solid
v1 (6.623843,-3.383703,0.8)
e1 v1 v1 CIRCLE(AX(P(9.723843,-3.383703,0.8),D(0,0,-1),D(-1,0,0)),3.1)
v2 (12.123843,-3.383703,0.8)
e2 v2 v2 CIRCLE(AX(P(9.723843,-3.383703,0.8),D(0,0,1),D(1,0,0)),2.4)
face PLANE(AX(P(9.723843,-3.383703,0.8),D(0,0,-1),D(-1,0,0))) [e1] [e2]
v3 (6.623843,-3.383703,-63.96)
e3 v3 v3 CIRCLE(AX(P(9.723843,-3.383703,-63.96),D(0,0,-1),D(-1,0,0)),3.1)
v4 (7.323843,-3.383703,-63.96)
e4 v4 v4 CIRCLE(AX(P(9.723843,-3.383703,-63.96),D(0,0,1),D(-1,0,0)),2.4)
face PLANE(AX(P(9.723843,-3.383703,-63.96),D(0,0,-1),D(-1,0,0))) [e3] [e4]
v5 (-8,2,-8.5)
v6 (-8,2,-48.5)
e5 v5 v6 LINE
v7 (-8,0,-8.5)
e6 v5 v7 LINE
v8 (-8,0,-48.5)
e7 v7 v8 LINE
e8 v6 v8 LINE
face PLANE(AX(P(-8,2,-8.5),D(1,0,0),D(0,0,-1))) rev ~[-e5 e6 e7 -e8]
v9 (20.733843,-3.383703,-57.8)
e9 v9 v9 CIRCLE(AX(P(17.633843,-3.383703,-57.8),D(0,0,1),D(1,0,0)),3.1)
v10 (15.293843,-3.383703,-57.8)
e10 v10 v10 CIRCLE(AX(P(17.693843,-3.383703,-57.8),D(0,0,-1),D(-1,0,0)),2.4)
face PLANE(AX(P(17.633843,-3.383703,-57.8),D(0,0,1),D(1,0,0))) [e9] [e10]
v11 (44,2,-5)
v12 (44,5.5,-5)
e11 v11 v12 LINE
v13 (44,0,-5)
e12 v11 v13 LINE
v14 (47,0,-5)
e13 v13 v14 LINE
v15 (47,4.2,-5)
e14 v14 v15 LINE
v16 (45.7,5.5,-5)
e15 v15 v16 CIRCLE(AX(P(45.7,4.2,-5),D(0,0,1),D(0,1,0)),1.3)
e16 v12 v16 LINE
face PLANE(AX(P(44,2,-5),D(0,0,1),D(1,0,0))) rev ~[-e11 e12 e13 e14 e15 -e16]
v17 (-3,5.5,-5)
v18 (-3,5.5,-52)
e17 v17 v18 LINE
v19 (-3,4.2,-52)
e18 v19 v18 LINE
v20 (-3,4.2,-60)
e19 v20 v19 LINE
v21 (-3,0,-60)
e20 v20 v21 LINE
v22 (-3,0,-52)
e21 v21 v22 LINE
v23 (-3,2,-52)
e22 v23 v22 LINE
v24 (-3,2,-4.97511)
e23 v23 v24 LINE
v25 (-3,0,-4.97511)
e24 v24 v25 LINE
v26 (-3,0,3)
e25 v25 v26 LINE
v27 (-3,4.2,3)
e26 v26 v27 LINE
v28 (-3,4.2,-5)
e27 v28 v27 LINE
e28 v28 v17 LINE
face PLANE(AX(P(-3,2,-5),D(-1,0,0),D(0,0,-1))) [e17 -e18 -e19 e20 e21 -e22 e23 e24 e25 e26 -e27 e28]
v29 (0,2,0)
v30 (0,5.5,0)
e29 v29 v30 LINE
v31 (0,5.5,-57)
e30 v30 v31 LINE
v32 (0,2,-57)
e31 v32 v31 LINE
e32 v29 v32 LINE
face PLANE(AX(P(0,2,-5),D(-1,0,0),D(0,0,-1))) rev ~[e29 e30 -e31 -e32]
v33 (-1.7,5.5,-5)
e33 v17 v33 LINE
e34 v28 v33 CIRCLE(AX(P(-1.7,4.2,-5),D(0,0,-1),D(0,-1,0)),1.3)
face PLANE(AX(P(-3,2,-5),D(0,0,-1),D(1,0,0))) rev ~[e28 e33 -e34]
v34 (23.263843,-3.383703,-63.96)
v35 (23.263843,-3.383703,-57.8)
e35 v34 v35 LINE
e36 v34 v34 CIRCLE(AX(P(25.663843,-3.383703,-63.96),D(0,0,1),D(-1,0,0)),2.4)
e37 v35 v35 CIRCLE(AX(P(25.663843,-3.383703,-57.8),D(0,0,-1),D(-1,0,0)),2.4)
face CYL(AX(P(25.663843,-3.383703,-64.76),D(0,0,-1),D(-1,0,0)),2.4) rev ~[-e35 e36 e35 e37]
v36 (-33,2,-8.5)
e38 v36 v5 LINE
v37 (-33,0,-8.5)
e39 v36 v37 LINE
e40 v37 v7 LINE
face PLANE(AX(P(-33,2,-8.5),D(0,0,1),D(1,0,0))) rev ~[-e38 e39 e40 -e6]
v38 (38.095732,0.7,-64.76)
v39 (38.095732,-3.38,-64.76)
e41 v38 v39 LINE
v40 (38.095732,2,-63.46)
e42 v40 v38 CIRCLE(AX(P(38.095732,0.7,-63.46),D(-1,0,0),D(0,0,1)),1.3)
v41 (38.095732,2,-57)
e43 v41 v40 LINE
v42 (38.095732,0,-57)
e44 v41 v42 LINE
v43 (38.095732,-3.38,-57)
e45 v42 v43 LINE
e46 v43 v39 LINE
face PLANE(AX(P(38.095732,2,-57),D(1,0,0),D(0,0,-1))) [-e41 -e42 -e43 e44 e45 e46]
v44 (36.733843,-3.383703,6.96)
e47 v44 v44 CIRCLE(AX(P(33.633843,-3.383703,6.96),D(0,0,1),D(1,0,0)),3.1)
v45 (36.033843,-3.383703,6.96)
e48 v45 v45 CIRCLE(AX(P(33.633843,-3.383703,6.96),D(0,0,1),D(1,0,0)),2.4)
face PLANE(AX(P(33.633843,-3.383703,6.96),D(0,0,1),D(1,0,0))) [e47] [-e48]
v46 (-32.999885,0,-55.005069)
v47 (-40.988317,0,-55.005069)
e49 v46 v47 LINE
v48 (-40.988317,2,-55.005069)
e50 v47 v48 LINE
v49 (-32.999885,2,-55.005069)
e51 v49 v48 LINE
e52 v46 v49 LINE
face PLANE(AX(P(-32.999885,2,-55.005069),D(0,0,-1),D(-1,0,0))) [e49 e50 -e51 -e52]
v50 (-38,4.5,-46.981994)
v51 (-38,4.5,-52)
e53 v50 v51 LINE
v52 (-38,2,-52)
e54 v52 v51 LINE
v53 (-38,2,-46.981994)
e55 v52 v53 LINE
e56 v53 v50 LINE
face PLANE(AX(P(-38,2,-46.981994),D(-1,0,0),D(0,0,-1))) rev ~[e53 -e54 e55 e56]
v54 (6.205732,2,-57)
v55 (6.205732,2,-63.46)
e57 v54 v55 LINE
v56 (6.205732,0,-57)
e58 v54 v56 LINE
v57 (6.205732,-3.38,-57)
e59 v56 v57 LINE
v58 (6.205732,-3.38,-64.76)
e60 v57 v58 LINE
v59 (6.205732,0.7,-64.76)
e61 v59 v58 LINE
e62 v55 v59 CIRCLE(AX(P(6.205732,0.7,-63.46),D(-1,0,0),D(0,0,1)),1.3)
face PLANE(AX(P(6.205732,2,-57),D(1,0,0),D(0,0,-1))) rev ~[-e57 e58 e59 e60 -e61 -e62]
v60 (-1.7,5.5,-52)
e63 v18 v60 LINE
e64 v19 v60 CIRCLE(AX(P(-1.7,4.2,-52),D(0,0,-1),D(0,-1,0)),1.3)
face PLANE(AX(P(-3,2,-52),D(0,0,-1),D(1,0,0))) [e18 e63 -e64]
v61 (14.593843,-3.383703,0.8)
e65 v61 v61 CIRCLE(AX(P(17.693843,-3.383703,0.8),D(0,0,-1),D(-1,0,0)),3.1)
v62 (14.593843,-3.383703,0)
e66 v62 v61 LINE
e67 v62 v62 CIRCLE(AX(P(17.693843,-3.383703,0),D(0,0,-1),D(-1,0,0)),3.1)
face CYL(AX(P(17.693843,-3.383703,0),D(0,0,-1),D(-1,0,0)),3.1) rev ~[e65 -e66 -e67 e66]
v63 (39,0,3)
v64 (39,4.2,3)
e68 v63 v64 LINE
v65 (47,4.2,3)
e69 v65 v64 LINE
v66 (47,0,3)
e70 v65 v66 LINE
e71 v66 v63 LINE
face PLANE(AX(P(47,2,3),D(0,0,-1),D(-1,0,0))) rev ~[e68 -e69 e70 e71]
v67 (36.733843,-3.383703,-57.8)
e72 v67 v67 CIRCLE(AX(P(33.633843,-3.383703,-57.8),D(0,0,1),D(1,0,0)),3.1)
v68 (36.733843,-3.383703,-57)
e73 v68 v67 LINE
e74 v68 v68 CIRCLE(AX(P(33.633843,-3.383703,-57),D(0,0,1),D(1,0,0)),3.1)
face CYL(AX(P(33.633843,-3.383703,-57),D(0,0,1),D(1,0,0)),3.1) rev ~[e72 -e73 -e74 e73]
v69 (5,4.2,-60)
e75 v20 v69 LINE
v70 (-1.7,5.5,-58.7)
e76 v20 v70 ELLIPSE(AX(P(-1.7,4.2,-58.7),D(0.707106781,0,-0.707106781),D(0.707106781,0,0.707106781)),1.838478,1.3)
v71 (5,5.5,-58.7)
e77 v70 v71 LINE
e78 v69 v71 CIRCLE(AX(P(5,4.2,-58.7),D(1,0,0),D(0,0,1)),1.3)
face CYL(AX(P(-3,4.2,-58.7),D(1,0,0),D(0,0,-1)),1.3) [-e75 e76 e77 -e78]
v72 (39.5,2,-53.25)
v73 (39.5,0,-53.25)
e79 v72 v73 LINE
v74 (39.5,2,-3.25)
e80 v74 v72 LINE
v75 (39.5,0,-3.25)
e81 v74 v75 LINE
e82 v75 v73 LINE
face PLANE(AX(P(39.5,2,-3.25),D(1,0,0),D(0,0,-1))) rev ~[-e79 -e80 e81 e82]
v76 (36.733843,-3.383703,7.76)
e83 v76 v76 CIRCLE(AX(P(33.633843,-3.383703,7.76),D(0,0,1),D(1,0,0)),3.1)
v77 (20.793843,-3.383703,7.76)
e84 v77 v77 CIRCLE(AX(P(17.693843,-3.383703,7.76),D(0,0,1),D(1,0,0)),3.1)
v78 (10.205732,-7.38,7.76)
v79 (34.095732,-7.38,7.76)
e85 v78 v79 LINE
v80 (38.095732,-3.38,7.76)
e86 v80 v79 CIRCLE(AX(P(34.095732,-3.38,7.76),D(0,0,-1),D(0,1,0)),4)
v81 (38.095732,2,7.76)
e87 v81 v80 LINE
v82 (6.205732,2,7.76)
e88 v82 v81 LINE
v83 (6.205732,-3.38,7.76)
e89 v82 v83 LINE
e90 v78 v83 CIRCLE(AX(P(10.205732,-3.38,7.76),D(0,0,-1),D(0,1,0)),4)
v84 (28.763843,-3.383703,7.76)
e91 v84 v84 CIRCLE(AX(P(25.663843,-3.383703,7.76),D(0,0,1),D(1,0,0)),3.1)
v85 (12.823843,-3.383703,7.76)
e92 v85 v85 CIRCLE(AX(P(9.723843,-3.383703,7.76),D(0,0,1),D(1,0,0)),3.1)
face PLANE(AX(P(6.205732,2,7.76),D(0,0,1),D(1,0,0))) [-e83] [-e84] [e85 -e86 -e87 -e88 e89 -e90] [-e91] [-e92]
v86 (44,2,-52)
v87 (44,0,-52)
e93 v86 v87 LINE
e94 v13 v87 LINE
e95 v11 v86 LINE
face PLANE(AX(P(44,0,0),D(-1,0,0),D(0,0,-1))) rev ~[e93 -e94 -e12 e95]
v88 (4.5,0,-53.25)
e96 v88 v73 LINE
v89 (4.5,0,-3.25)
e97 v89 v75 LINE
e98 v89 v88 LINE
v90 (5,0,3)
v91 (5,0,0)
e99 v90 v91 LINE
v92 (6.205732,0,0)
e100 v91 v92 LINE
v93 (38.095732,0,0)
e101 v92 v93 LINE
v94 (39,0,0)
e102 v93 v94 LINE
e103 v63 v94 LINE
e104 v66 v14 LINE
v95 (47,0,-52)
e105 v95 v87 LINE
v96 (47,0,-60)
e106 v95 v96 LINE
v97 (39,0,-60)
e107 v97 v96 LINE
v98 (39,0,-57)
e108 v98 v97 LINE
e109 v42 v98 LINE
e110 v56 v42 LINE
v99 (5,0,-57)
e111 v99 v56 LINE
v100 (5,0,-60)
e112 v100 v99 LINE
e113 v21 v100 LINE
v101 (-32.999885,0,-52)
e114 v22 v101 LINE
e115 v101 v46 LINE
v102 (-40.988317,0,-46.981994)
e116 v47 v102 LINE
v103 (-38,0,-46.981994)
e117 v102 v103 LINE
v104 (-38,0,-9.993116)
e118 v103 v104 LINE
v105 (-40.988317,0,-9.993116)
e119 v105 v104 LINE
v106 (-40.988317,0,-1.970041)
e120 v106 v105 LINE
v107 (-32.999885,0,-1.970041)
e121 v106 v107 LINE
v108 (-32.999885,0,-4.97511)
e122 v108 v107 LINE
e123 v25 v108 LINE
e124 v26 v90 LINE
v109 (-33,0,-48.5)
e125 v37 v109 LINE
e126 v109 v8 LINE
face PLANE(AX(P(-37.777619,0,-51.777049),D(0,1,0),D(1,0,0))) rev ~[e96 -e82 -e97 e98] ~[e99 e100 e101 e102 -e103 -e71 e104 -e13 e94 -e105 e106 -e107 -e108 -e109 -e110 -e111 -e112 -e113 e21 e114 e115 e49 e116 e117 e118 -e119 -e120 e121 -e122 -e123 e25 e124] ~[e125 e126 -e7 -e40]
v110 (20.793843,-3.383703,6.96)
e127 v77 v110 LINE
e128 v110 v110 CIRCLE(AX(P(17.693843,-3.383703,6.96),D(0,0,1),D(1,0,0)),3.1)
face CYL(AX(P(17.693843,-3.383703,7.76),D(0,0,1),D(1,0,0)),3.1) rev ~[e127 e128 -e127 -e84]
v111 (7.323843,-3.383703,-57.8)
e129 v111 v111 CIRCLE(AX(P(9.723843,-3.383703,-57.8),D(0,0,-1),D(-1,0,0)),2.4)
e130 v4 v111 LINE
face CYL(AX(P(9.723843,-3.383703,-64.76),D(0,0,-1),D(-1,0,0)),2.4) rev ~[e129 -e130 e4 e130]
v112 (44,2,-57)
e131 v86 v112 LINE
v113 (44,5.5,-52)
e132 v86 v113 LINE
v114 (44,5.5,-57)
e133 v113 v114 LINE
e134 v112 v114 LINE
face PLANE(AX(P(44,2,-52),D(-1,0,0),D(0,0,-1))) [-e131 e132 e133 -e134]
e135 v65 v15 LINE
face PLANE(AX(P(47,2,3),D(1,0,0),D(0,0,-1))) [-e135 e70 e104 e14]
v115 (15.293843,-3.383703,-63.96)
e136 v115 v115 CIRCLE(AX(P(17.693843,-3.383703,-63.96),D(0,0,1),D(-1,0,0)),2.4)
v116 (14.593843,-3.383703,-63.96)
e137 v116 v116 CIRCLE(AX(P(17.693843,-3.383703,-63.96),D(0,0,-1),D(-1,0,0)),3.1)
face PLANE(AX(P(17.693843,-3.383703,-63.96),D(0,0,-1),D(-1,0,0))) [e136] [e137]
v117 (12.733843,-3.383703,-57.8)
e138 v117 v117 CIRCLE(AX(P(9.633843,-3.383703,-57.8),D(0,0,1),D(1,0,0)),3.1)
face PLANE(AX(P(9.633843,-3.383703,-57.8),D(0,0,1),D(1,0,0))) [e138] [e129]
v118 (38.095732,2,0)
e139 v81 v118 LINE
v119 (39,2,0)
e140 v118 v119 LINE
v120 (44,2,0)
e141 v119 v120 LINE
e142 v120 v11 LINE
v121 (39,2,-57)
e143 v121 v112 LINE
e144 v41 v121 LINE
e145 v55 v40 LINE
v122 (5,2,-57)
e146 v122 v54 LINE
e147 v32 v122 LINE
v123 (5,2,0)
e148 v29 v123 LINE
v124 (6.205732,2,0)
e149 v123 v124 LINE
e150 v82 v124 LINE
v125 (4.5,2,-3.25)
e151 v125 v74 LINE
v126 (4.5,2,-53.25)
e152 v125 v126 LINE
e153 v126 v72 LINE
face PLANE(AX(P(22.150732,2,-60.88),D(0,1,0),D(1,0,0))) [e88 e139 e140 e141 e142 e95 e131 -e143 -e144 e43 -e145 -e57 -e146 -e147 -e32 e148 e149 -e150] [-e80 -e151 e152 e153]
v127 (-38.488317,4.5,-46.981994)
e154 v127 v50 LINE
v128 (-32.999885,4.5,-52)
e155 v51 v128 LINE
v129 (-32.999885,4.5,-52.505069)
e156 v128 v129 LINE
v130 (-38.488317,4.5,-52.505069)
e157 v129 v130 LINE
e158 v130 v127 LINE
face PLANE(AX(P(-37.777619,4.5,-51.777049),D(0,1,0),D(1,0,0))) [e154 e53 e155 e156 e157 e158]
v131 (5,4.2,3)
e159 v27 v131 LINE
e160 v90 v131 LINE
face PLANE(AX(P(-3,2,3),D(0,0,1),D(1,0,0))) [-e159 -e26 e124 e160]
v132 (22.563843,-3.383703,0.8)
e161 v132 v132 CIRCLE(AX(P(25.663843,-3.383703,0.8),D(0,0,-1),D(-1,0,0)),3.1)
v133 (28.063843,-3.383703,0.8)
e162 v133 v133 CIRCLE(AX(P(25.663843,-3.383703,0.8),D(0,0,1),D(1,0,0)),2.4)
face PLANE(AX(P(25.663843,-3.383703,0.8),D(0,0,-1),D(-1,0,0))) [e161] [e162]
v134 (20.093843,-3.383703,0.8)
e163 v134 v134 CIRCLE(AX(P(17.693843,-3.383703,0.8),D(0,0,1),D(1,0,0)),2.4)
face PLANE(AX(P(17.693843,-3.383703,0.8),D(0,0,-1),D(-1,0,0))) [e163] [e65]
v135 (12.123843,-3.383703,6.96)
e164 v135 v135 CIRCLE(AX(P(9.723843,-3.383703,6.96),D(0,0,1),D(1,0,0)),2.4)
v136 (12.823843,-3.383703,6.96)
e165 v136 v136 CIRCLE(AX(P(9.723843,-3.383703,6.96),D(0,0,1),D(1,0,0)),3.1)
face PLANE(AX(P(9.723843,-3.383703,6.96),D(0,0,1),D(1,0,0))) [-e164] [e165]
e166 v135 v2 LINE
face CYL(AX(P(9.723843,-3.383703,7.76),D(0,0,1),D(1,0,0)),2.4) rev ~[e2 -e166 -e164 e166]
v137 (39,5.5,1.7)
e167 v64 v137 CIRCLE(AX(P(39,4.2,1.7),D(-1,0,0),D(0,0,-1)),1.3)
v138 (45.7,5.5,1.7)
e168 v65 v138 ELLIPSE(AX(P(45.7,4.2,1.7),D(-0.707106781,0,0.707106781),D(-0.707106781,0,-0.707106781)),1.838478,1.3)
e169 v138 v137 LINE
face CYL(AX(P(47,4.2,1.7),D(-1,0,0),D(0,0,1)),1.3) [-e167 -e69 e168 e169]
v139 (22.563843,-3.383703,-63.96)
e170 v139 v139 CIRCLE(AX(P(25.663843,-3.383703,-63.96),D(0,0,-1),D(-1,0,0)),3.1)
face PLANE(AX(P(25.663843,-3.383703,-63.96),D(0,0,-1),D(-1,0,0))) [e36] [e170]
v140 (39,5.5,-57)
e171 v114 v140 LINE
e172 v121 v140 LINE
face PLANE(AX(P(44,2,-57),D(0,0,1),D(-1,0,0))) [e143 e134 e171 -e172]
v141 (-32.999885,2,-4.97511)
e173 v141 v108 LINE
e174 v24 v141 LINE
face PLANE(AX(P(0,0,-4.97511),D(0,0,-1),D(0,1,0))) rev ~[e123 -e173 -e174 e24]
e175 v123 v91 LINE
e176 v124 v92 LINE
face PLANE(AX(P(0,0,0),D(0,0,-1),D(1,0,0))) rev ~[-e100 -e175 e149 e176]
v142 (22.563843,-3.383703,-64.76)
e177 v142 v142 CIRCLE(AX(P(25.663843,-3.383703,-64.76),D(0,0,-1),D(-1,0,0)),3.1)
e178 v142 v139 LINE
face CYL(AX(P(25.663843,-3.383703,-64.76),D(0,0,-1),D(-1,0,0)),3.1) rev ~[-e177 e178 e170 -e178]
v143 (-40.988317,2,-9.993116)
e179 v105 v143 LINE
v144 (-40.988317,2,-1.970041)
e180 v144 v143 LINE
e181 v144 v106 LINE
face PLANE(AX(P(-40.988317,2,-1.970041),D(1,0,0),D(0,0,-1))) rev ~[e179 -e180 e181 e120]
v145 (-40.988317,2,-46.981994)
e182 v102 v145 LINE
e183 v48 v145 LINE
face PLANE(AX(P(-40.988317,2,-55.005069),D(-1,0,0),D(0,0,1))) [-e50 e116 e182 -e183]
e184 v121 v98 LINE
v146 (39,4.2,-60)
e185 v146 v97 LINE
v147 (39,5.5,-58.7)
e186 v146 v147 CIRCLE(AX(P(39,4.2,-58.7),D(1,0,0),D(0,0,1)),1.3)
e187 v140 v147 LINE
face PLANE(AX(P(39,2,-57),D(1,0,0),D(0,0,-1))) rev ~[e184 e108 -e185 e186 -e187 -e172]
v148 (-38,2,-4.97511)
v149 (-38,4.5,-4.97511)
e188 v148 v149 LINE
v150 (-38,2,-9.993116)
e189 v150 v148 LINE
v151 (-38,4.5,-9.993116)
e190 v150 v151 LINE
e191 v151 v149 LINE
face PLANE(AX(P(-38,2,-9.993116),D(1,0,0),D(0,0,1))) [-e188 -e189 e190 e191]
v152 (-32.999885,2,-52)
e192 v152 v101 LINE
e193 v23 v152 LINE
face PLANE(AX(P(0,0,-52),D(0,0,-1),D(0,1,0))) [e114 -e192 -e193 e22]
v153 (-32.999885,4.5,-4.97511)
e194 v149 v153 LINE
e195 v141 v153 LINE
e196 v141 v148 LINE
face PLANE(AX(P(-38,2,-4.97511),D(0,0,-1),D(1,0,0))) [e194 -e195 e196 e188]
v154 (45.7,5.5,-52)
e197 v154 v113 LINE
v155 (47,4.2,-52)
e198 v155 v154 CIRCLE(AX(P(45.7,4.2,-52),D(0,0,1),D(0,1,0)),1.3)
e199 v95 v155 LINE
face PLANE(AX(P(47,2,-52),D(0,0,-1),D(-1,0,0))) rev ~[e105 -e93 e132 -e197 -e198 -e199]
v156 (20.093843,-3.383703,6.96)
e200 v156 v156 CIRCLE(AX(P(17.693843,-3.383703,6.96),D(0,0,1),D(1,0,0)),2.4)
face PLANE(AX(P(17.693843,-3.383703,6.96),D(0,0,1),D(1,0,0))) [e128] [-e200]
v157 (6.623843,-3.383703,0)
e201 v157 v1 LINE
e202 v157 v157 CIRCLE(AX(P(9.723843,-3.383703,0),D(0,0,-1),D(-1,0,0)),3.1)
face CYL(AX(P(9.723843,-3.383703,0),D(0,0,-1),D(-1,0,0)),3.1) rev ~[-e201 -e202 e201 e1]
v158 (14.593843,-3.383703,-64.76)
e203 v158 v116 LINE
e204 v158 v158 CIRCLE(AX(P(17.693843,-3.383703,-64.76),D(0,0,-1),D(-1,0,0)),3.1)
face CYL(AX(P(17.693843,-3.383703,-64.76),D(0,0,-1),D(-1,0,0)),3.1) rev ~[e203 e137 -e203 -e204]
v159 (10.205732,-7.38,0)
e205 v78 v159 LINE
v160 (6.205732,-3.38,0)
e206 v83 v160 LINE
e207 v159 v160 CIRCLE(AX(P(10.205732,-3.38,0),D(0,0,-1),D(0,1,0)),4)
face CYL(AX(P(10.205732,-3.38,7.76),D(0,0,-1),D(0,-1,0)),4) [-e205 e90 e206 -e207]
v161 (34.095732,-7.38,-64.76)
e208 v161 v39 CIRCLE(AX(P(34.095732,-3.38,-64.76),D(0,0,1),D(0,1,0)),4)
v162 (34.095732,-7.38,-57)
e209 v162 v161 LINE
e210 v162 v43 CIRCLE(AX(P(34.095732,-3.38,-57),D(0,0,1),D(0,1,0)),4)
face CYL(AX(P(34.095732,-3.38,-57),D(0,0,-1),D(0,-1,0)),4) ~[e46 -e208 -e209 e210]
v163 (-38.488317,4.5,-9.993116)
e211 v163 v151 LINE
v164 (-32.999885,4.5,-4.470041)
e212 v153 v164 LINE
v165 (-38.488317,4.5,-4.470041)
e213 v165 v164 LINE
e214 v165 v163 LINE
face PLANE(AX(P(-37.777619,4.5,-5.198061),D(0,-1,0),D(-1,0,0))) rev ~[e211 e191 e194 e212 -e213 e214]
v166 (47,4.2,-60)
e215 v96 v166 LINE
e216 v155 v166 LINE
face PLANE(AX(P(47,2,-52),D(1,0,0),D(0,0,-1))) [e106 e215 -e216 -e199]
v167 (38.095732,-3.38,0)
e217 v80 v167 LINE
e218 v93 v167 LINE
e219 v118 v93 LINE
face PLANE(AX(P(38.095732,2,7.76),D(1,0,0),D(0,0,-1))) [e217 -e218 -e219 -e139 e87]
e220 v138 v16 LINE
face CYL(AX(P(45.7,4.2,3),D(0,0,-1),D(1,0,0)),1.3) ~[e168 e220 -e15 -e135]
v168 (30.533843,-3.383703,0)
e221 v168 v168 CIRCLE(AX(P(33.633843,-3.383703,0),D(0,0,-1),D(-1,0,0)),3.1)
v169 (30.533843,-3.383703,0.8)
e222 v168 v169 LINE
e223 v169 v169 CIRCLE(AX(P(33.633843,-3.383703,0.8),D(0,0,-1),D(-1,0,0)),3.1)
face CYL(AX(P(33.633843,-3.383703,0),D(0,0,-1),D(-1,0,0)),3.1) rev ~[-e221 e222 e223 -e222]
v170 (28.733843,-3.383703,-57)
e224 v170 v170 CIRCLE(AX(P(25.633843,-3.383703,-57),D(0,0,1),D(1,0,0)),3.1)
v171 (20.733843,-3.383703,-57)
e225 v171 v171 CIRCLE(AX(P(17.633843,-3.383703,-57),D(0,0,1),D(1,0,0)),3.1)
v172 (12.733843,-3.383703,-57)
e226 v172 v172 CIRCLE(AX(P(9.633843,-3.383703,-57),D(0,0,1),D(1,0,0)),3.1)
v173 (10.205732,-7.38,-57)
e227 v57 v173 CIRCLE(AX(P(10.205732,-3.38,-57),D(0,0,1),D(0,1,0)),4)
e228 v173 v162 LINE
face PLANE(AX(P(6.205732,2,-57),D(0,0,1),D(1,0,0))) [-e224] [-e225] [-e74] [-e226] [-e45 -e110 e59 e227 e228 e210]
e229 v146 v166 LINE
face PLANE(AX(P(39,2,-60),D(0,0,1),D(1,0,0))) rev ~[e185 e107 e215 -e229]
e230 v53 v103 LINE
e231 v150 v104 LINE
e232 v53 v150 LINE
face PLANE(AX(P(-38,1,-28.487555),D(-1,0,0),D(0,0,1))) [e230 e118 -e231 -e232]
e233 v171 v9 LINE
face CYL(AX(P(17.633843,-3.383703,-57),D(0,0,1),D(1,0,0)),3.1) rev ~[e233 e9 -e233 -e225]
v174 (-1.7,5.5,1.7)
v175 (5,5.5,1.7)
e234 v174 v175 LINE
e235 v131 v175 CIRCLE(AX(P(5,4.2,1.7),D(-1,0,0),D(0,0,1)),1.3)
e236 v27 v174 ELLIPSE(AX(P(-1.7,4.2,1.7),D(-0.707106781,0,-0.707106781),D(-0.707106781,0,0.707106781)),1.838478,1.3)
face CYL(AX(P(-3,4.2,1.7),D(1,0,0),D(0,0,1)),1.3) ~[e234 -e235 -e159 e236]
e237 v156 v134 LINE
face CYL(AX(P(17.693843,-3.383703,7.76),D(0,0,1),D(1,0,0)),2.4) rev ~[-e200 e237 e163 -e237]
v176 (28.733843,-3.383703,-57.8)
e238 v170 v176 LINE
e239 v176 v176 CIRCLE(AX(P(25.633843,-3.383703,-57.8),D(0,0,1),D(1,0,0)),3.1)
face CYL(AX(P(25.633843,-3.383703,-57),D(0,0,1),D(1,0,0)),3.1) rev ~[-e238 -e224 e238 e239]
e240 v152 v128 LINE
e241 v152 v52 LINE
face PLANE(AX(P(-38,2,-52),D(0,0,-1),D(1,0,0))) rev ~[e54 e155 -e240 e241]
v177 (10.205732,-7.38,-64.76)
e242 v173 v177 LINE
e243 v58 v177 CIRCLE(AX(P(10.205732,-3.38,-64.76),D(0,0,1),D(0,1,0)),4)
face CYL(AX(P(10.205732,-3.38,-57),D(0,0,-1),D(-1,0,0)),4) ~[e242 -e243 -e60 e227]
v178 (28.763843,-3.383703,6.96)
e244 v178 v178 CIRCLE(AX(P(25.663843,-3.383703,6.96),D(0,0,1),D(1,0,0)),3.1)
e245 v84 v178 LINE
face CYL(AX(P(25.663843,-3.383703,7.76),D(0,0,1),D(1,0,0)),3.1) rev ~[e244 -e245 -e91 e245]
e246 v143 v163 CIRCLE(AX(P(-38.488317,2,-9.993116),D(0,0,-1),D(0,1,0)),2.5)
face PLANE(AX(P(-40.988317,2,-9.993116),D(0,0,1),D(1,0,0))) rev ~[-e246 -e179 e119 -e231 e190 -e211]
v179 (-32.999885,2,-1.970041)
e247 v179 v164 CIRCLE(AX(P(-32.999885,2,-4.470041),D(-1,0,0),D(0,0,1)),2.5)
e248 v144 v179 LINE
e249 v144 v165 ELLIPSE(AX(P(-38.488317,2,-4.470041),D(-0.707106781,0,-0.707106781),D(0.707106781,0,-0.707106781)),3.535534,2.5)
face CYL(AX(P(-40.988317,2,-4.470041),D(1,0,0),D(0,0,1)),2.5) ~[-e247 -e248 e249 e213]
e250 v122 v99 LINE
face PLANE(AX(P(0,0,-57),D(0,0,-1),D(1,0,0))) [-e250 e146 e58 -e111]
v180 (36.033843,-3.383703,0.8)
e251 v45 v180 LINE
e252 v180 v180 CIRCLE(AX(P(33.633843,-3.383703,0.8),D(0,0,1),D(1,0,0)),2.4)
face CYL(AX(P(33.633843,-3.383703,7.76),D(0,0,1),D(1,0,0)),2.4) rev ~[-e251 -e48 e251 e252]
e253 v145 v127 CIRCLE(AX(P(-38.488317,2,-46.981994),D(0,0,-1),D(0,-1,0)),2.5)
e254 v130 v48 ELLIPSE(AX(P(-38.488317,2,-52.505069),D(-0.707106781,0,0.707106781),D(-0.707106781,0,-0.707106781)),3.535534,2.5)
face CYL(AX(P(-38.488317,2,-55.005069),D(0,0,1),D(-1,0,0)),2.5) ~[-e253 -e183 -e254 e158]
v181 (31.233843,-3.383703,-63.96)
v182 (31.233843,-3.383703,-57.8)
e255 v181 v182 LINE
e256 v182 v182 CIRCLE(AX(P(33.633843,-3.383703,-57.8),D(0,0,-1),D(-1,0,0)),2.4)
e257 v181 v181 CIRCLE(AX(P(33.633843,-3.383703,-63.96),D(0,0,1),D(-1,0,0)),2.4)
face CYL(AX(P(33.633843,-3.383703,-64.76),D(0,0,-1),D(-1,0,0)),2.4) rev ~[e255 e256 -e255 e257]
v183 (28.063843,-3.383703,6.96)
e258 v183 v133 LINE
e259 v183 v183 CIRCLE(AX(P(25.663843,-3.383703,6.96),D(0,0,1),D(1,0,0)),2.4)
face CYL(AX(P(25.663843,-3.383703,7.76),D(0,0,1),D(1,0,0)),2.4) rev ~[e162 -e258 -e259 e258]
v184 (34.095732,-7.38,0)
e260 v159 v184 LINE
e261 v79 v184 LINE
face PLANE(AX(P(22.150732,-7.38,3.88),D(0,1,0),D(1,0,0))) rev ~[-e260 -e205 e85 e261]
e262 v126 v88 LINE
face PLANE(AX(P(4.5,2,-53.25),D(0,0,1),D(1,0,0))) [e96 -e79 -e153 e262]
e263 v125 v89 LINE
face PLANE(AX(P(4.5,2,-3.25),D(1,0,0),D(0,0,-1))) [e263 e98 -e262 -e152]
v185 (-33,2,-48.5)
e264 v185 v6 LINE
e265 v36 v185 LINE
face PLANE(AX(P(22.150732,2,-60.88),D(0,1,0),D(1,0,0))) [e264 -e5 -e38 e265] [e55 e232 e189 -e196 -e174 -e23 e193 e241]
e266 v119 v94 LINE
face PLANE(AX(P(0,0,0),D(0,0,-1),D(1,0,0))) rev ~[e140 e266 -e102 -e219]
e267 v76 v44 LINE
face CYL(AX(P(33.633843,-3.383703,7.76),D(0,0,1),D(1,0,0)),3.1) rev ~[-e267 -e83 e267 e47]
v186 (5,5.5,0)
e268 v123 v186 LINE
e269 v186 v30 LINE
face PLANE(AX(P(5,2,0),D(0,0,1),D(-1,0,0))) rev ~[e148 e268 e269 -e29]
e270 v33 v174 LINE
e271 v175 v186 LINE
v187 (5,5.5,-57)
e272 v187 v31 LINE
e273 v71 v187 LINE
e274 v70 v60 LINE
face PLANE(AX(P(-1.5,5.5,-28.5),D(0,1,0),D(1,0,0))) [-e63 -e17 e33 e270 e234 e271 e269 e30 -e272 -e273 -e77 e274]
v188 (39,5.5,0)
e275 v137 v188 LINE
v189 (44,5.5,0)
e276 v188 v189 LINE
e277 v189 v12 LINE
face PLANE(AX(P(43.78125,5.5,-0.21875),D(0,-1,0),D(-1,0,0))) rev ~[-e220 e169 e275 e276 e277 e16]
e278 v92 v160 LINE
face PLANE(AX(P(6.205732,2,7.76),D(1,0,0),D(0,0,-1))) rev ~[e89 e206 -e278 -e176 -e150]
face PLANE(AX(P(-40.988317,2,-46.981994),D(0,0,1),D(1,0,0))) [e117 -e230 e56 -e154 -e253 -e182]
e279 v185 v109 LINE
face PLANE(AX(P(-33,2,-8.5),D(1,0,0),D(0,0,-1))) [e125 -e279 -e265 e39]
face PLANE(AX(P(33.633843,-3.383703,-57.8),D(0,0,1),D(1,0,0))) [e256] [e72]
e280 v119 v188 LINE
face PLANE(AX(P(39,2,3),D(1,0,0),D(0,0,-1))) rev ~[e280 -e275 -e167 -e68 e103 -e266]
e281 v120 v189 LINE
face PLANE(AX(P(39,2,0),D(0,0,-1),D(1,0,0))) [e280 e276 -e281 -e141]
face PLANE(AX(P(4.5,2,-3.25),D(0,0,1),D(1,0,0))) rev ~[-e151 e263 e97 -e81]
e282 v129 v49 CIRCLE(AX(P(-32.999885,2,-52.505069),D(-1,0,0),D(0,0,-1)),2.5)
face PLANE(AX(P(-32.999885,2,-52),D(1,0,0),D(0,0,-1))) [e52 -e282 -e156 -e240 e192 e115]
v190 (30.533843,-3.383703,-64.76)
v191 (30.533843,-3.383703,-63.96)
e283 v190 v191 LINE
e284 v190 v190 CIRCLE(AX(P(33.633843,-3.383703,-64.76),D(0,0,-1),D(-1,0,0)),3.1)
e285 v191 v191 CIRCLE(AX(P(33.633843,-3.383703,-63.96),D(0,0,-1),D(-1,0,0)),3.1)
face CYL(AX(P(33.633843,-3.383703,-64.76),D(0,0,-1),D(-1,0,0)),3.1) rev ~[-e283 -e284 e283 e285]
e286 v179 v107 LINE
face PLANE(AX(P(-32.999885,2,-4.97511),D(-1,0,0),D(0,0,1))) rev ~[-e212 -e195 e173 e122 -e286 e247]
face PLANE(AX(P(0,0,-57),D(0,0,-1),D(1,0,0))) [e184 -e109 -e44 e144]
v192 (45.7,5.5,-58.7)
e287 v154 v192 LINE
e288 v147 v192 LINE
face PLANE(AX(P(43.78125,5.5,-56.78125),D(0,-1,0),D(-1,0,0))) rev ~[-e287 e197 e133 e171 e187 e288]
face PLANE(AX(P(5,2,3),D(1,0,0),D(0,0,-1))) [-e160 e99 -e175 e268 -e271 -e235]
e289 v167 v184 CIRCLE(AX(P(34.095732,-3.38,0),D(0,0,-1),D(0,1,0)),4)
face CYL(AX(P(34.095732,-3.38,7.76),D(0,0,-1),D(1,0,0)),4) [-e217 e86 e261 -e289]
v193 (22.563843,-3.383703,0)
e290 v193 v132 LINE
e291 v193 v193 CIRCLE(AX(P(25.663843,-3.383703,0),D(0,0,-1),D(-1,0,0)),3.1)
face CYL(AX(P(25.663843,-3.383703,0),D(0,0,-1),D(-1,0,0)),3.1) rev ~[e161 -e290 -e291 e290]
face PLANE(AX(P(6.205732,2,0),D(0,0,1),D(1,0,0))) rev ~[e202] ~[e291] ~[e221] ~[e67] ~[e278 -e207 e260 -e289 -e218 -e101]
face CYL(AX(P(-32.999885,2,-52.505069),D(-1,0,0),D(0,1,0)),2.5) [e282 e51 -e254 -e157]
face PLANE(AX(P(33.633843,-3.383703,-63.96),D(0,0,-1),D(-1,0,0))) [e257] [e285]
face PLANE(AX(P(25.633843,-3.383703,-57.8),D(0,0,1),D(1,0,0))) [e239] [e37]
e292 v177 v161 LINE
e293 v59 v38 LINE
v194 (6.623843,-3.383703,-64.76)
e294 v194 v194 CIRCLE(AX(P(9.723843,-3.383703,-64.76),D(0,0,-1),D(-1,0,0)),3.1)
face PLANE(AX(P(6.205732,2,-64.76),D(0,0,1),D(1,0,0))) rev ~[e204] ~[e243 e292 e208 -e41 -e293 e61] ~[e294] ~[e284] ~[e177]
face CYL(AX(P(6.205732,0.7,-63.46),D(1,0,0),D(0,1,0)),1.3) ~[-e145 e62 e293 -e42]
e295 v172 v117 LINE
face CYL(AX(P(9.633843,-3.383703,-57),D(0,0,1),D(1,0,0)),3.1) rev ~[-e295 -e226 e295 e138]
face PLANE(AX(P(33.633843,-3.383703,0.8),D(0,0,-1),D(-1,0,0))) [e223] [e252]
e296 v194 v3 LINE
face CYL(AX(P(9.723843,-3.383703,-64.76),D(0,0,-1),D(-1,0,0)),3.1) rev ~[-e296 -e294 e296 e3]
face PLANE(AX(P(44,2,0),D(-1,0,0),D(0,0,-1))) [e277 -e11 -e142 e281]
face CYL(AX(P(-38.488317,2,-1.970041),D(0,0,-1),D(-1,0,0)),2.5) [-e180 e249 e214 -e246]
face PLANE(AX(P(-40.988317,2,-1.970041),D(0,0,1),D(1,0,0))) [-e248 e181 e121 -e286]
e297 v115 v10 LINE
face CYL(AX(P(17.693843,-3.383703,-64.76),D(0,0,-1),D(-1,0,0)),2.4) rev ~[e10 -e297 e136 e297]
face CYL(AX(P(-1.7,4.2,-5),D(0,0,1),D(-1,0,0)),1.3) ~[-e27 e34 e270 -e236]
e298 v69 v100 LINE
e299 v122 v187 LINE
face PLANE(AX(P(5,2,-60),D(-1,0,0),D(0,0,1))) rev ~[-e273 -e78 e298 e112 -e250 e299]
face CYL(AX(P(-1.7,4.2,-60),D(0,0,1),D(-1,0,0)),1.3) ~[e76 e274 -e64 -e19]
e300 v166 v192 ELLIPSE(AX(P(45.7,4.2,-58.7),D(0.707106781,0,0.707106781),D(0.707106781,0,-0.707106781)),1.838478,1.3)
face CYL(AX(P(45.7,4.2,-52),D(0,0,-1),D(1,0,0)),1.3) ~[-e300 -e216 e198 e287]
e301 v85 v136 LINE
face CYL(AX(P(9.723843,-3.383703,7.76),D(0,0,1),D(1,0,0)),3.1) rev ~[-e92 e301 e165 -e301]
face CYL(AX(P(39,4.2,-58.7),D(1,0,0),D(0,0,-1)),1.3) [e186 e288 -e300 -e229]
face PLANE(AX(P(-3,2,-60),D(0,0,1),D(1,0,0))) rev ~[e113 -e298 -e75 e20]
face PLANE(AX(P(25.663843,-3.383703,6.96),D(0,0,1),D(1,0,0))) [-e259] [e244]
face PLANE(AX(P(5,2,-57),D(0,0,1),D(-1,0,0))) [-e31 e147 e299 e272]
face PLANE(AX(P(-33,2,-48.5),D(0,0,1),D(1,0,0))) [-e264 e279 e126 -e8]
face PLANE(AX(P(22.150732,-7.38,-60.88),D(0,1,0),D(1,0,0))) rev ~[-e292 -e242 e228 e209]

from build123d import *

# Parameters (mm, degrees)
SKETCH1_W                 = 44
SKETCH1_H                 = 57
BOSS_EXTRUDE1_DEPTH       = 2
BOSS_EXTRUDE2_DEPTH       = 3.5
BOSS_EXTRUDE2_DEPTH_BACK  = 2
SKETCH17_W                = 47.024890074
SKETCH17_H                = 2
BOSS_EXTRUDE7_DEPTH       = 38
SKETCH8_W                 = 31.89
SKETCH8_H                 = 7.76
BOSS_EXTRUDE5_DEPTH       = 9.38
SKETCH9_R                 = 2.4
CUT_EXTRUDE1_DEPTH        = 9.38
SKETCH10_R                = 3.1
CUT_EXTRUDE2_DEPTH        = 0.8
SKETCH11_R                = 3.1
CUT_EXTRUDE3_DEPTH        = 0.8
SKETCH14_R                = 2.4
CUT_EXTRUDE5_DEPTH        = 77.6
SKETCH15_R                = 3.1
CUT_EXTRUDE6_DEPTH        = 0.8
SKETCH16_R                = 3.1
CUT_EXTRUDE7_DEPTH        = 0.8
FILLET1_R                 = 1.3
FILLET2_R                 = 1.3
FILLET3_R                 = 1.3
FILLET4_R                 = 1.3
FILLET5_R                 = 1.3
FILLET7_R                 = 4
FILLET8_R                 = 4
FILLET9_R                 = 4
FILLET10_R                = 4
SKETCH19_W                = 3
SKETCH19_H                = 47
BOSS_EXTRUDE9_DEPTH       = 3.5
SKETCH20_W                = 25
SKETCH20_H                = 40
CUT_EXTRUDE8_DEPTH        = 10.38
SKETCH21_W                = 35
SKETCH21_H                = 50
CUT_EXTRUDE9_DEPTH        = 3.5
BOSS_EXTRUDE10_DEPTH      = 2.5
BOSS_EXTRUDE10_DEPTH_BACK = 2
FILLET11_R                = 2.5
FILLET12_R                = 2.5


with BuildPart() as part:
    # Sketch1 → Boss-Extrude1 (new body)
    with BuildSketch(Plane(origin=(0, 0, 0), x_dir=(1, 0, 0), z_dir=(0, 1, 0))):
        with Locations((22, 28.5)):
            Rectangle(SKETCH1_W, SKETCH1_H)
    extrude(amount=BOSS_EXTRUDE1_DEPTH)

    # Sketch2 → Boss-Extrude2 (add, two sides)
    with BuildSketch(Plane(origin=(0, 2, 0), x_dir=(1, 0, 0), z_dir=(0, 1, 0))) as boss_extrude2_sk:
        Polygon((0, 0), (0, 5), (-3, 5), (-3, 0), (-3, -3), (5, -3), (5, 0), align=None)
        Polygon((47, 0), (47, -3), (39, -3), (39, 0), (44, 0), (44, 5), (47, 5), align=None)
        Polygon((47, 57), (47, 52), (44, 52), (44, 57), (39, 57), (39, 60), (47, 60), align=None)
        Polygon((-3, 57), (-3, 60), (5, 60), (5, 57), (0, 57), (0, 52), (-3, 52), align=None)
    extrude(amount=BOSS_EXTRUDE2_DEPTH)
    extrude(boss_extrude2_sk.sketch, amount=-BOSS_EXTRUDE2_DEPTH_BACK)

    # Sketch17 → Boss-Extrude7 (add)
    with BuildSketch(Plane.ZY):
        with Locations((-28.487554963, 1)):
            Rectangle(SKETCH17_W, SKETCH17_H)
    extrude(amount=BOSS_EXTRUDE7_DEPTH)

    # Sketch8 → Boss-Extrude5 (add)
    with BuildSketch(Plane(origin=(0, 2, 0), x_dir=(1, 0, 0), z_dir=(0, 1, 0))):
        with Locations((22.150732417, 60.88)):
            Rectangle(SKETCH8_W, SKETCH8_H)
        with Locations((22.150732417, -3.88)):
            Rectangle(SKETCH8_W, SKETCH8_H)
    extrude(amount=-BOSS_EXTRUDE5_DEPTH)

    # Sketch9 → Cut-Extrude1 (cut)
    with BuildSketch(Plane(origin=(0, 0, -64.76), x_dir=(-1, 0, 0), z_dir=(0, 0, -1))):
        with Locations((-33.633843379, -3.383703118)):
            Circle(SKETCH9_R)
        with Locations((-25.663843379, -3.383703118)):
            Circle(SKETCH9_R)
        with Locations((-17.693843379, -3.383703118)):
            Circle(SKETCH9_R)
        with Locations((-9.723843379, -3.383703118)):
            Circle(SKETCH9_R)
    extrude(amount=-CUT_EXTRUDE1_DEPTH, mode=Mode.SUBTRACT)

    # Sketch10 → Cut-Extrude2 (cut)
    with BuildSketch(Plane(origin=(0, 0, -64.76), x_dir=(-1, 0, 0), z_dir=(0, 0, -1))):
        with Locations((-33.633843379, -3.383703118)):
            Circle(SKETCH10_R)
        with Locations((-25.663843379, -3.383703118)):
            Circle(SKETCH10_R)
        with Locations((-17.693843379, -3.383703118)):
            Circle(SKETCH10_R)
        with Locations((-9.723843379, -3.383703118)):
            Circle(SKETCH10_R)
    extrude(amount=-CUT_EXTRUDE2_DEPTH, mode=Mode.SUBTRACT)

    # Sketch11 → Cut-Extrude3 (cut)
    with BuildSketch(Plane.XY.offset(-57)):
        with Locations((33.633843379, -3.383703118)):
            Circle(SKETCH11_R)
        with Locations((25.633843379, -3.383703118)):
            Circle(SKETCH11_R)
        with Locations((17.633843379, -3.383703118)):
            Circle(SKETCH11_R)
        with Locations((9.633843379, -3.383703118)):
            Circle(SKETCH11_R)
    extrude(amount=-CUT_EXTRUDE3_DEPTH, mode=Mode.SUBTRACT)

    # Sketch14 → Cut-Extrude5 (cut)
    with BuildSketch(Plane.XY.offset(7.76)):
        with Locations((9.723843379, -3.383703118)):
            Circle(SKETCH14_R)
        with Locations((17.693843379, -3.383703118)):
            Circle(SKETCH14_R)
        with Locations((25.663843379, -3.383703118)):
            Circle(SKETCH14_R)
        with Locations((33.633843379, -3.383703118)):
            Circle(SKETCH14_R)
    extrude(amount=-CUT_EXTRUDE5_DEPTH, mode=Mode.SUBTRACT)

    # Sketch15 → Cut-Extrude6 (cut)
    with BuildSketch(Plane.XY.offset(7.76)):
        with Locations((9.723843379, -3.383703118)):
            Circle(SKETCH15_R)
        with Locations((17.693843379, -3.383703118)):
            Circle(SKETCH15_R)
        with Locations((25.663843379, -3.383703118)):
            Circle(SKETCH15_R)
        with Locations((33.633843379, -3.383703118)):
            Circle(SKETCH15_R)
    extrude(amount=-CUT_EXTRUDE6_DEPTH, mode=Mode.SUBTRACT)

    # Sketch16 → Cut-Extrude7 (cut)
    with BuildSketch(Plane(origin=(0, 0, 0), x_dir=(-1, 0, 0), z_dir=(0, 0, -1))):
        with Locations((-9.723843379, -3.383703118)):
            Circle(SKETCH16_R)
        with Locations((-17.693843379, -3.383703118)):
            Circle(SKETCH16_R)
        with Locations((-25.663843379, -3.383703118)):
            Circle(SKETCH16_R)
        with Locations((-33.633843379, -3.383703118)):
            Circle(SKETCH16_R)
    extrude(amount=-CUT_EXTRUDE7_DEPTH, mode=Mode.SUBTRACT)

    # Fillet1
    fillet1_edges = [part.edges().sort_by_distance(p)[0] for p in [
        (47, 5.5, -56),
        (43, 5.5, -60),
    ]]
    fillet(fillet1_edges, radius=FILLET1_R)

    # Fillet2
    fillet2_edges = [part.edges().sort_by_distance(p)[0] for p in [
        (47, 5.5, -1),
        (43, 5.5, 3),
    ]]
    fillet(fillet2_edges, radius=FILLET2_R)

    # Fillet3
    fillet3_edges = [part.edges().sort_by_distance(p)[0] for p in [
        (-3, 5.5, -56),
        (1, 5.5, -60),
    ]]
    fillet(fillet3_edges, radius=FILLET3_R)

    # Fillet4
    fillet4_edges = [part.edges().sort_by_distance(p)[0] for p in [
        (-3, 5.5, -1),
        (1, 5.5, 3),
    ]]
    fillet(fillet4_edges, radius=FILLET4_R)

    # Fillet5
    fillet5_edges = [part.edges().sort_by_distance(p)[0] for p in [
        (22.150732417, 2, -64.76),
    ]]
    fillet(fillet5_edges, radius=FILLET5_R)

    # Fillet7
    fillet7_edges = [part.edges().sort_by_distance(p)[0] for p in [
        (6.205732417, -7.38, -60.88),
    ]]
    fillet(fillet7_edges, radius=FILLET7_R)

    # Fillet8
    fillet8_edges = [part.edges().sort_by_distance(p)[0] for p in [
        (38.095732417, -7.38, -60.88),
    ]]
    fillet(fillet8_edges, radius=FILLET8_R)

    # Fillet9
    fillet9_edges = [part.edges().sort_by_distance(p)[0] for p in [
        (38.095732417, -7.38, 3.88),
    ]]
    fillet(fillet9_edges, radius=FILLET9_R)

    # Fillet10
    fillet10_edges = [part.edges().sort_by_distance(p)[0] for p in [
        (6.205732417, -7.38, 3.88),
    ]]
    fillet(fillet10_edges, radius=FILLET10_R)

    # Sketch19 → Boss-Extrude9 (add)
    with BuildSketch(Plane(origin=(0, 2, 0), x_dir=(1, 0, 0), z_dir=(0, 1, 0))):
        with Locations((-1.5, 28.5)):
            Rectangle(SKETCH19_W, SKETCH19_H)
    extrude(amount=BOSS_EXTRUDE9_DEPTH)

    # Sketch20 → Cut-Extrude8 (cut, through all)
    with BuildSketch(Plane(origin=(0, 2, 0), x_dir=(1, 0, 0), z_dir=(0, 1, 0))):
        with Locations((-20.5, 28.5)):
            Rectangle(SKETCH20_W, SKETCH20_H)
    extrude(amount=-CUT_EXTRUDE8_DEPTH, mode=Mode.SUBTRACT)

    # Sketch21 → Cut-Extrude9 (cut)
    with BuildSketch(Plane(origin=(0, 2, 0), x_dir=(1, 0, 0), z_dir=(0, 1, 0))):
        with Locations((22, 28.25)):
            Rectangle(SKETCH21_W, SKETCH21_H)
    extrude(amount=-CUT_EXTRUDE9_DEPTH, mode=Mode.SUBTRACT)

    # Sketch22 → Boss-Extrude10 (add, two sides)
    with BuildSketch(Plane(origin=(0, 2, 0), x_dir=(1, 0, 0), z_dir=(0, 1, 0))) as boss_extrude10_sk:
        Polygon((-38, 52), (-32.9998846, 52), (-32.9998846, 55.005068645), (-38, 55.005068645), (-40.988316888, 55.005068645), (-40.988316888, 46.981993776), (-38, 46.981993776), align=None)
        Polygon((-32.9998846, 4.975109926), (-32.9998846, 1.970041281), (-38, 1.970041281), (-40.988316888, 1.970041281), (-40.988316888, 9.99311615), (-38, 9.99311615), (-38, 4.975109926), align=None)
    extrude(amount=BOSS_EXTRUDE10_DEPTH)
    extrude(boss_extrude10_sk.sketch, amount=-BOSS_EXTRUDE10_DEPTH_BACK)

    # Fillet11
    fillet11_edges = [part.edges().sort_by_distance(p)[0] for p in [
        (-36.994100744, 4.5, -55.005068645),
        (-40.988316888, 4.5, -50.99353121),
    ]]
    fillet(fillet11_edges, radius=FILLET11_R)

    # Fillet12
    fillet12_edges = [part.edges().sort_by_distance(p)[0] for p in [
        (-40.988316888, 4.5, -5.981578716),
        (-36.994100744, 4.5, -1.970041281),
    ]]
    fillet(fillet12_edges, radius=FILLET12_R)


solid = part.part
